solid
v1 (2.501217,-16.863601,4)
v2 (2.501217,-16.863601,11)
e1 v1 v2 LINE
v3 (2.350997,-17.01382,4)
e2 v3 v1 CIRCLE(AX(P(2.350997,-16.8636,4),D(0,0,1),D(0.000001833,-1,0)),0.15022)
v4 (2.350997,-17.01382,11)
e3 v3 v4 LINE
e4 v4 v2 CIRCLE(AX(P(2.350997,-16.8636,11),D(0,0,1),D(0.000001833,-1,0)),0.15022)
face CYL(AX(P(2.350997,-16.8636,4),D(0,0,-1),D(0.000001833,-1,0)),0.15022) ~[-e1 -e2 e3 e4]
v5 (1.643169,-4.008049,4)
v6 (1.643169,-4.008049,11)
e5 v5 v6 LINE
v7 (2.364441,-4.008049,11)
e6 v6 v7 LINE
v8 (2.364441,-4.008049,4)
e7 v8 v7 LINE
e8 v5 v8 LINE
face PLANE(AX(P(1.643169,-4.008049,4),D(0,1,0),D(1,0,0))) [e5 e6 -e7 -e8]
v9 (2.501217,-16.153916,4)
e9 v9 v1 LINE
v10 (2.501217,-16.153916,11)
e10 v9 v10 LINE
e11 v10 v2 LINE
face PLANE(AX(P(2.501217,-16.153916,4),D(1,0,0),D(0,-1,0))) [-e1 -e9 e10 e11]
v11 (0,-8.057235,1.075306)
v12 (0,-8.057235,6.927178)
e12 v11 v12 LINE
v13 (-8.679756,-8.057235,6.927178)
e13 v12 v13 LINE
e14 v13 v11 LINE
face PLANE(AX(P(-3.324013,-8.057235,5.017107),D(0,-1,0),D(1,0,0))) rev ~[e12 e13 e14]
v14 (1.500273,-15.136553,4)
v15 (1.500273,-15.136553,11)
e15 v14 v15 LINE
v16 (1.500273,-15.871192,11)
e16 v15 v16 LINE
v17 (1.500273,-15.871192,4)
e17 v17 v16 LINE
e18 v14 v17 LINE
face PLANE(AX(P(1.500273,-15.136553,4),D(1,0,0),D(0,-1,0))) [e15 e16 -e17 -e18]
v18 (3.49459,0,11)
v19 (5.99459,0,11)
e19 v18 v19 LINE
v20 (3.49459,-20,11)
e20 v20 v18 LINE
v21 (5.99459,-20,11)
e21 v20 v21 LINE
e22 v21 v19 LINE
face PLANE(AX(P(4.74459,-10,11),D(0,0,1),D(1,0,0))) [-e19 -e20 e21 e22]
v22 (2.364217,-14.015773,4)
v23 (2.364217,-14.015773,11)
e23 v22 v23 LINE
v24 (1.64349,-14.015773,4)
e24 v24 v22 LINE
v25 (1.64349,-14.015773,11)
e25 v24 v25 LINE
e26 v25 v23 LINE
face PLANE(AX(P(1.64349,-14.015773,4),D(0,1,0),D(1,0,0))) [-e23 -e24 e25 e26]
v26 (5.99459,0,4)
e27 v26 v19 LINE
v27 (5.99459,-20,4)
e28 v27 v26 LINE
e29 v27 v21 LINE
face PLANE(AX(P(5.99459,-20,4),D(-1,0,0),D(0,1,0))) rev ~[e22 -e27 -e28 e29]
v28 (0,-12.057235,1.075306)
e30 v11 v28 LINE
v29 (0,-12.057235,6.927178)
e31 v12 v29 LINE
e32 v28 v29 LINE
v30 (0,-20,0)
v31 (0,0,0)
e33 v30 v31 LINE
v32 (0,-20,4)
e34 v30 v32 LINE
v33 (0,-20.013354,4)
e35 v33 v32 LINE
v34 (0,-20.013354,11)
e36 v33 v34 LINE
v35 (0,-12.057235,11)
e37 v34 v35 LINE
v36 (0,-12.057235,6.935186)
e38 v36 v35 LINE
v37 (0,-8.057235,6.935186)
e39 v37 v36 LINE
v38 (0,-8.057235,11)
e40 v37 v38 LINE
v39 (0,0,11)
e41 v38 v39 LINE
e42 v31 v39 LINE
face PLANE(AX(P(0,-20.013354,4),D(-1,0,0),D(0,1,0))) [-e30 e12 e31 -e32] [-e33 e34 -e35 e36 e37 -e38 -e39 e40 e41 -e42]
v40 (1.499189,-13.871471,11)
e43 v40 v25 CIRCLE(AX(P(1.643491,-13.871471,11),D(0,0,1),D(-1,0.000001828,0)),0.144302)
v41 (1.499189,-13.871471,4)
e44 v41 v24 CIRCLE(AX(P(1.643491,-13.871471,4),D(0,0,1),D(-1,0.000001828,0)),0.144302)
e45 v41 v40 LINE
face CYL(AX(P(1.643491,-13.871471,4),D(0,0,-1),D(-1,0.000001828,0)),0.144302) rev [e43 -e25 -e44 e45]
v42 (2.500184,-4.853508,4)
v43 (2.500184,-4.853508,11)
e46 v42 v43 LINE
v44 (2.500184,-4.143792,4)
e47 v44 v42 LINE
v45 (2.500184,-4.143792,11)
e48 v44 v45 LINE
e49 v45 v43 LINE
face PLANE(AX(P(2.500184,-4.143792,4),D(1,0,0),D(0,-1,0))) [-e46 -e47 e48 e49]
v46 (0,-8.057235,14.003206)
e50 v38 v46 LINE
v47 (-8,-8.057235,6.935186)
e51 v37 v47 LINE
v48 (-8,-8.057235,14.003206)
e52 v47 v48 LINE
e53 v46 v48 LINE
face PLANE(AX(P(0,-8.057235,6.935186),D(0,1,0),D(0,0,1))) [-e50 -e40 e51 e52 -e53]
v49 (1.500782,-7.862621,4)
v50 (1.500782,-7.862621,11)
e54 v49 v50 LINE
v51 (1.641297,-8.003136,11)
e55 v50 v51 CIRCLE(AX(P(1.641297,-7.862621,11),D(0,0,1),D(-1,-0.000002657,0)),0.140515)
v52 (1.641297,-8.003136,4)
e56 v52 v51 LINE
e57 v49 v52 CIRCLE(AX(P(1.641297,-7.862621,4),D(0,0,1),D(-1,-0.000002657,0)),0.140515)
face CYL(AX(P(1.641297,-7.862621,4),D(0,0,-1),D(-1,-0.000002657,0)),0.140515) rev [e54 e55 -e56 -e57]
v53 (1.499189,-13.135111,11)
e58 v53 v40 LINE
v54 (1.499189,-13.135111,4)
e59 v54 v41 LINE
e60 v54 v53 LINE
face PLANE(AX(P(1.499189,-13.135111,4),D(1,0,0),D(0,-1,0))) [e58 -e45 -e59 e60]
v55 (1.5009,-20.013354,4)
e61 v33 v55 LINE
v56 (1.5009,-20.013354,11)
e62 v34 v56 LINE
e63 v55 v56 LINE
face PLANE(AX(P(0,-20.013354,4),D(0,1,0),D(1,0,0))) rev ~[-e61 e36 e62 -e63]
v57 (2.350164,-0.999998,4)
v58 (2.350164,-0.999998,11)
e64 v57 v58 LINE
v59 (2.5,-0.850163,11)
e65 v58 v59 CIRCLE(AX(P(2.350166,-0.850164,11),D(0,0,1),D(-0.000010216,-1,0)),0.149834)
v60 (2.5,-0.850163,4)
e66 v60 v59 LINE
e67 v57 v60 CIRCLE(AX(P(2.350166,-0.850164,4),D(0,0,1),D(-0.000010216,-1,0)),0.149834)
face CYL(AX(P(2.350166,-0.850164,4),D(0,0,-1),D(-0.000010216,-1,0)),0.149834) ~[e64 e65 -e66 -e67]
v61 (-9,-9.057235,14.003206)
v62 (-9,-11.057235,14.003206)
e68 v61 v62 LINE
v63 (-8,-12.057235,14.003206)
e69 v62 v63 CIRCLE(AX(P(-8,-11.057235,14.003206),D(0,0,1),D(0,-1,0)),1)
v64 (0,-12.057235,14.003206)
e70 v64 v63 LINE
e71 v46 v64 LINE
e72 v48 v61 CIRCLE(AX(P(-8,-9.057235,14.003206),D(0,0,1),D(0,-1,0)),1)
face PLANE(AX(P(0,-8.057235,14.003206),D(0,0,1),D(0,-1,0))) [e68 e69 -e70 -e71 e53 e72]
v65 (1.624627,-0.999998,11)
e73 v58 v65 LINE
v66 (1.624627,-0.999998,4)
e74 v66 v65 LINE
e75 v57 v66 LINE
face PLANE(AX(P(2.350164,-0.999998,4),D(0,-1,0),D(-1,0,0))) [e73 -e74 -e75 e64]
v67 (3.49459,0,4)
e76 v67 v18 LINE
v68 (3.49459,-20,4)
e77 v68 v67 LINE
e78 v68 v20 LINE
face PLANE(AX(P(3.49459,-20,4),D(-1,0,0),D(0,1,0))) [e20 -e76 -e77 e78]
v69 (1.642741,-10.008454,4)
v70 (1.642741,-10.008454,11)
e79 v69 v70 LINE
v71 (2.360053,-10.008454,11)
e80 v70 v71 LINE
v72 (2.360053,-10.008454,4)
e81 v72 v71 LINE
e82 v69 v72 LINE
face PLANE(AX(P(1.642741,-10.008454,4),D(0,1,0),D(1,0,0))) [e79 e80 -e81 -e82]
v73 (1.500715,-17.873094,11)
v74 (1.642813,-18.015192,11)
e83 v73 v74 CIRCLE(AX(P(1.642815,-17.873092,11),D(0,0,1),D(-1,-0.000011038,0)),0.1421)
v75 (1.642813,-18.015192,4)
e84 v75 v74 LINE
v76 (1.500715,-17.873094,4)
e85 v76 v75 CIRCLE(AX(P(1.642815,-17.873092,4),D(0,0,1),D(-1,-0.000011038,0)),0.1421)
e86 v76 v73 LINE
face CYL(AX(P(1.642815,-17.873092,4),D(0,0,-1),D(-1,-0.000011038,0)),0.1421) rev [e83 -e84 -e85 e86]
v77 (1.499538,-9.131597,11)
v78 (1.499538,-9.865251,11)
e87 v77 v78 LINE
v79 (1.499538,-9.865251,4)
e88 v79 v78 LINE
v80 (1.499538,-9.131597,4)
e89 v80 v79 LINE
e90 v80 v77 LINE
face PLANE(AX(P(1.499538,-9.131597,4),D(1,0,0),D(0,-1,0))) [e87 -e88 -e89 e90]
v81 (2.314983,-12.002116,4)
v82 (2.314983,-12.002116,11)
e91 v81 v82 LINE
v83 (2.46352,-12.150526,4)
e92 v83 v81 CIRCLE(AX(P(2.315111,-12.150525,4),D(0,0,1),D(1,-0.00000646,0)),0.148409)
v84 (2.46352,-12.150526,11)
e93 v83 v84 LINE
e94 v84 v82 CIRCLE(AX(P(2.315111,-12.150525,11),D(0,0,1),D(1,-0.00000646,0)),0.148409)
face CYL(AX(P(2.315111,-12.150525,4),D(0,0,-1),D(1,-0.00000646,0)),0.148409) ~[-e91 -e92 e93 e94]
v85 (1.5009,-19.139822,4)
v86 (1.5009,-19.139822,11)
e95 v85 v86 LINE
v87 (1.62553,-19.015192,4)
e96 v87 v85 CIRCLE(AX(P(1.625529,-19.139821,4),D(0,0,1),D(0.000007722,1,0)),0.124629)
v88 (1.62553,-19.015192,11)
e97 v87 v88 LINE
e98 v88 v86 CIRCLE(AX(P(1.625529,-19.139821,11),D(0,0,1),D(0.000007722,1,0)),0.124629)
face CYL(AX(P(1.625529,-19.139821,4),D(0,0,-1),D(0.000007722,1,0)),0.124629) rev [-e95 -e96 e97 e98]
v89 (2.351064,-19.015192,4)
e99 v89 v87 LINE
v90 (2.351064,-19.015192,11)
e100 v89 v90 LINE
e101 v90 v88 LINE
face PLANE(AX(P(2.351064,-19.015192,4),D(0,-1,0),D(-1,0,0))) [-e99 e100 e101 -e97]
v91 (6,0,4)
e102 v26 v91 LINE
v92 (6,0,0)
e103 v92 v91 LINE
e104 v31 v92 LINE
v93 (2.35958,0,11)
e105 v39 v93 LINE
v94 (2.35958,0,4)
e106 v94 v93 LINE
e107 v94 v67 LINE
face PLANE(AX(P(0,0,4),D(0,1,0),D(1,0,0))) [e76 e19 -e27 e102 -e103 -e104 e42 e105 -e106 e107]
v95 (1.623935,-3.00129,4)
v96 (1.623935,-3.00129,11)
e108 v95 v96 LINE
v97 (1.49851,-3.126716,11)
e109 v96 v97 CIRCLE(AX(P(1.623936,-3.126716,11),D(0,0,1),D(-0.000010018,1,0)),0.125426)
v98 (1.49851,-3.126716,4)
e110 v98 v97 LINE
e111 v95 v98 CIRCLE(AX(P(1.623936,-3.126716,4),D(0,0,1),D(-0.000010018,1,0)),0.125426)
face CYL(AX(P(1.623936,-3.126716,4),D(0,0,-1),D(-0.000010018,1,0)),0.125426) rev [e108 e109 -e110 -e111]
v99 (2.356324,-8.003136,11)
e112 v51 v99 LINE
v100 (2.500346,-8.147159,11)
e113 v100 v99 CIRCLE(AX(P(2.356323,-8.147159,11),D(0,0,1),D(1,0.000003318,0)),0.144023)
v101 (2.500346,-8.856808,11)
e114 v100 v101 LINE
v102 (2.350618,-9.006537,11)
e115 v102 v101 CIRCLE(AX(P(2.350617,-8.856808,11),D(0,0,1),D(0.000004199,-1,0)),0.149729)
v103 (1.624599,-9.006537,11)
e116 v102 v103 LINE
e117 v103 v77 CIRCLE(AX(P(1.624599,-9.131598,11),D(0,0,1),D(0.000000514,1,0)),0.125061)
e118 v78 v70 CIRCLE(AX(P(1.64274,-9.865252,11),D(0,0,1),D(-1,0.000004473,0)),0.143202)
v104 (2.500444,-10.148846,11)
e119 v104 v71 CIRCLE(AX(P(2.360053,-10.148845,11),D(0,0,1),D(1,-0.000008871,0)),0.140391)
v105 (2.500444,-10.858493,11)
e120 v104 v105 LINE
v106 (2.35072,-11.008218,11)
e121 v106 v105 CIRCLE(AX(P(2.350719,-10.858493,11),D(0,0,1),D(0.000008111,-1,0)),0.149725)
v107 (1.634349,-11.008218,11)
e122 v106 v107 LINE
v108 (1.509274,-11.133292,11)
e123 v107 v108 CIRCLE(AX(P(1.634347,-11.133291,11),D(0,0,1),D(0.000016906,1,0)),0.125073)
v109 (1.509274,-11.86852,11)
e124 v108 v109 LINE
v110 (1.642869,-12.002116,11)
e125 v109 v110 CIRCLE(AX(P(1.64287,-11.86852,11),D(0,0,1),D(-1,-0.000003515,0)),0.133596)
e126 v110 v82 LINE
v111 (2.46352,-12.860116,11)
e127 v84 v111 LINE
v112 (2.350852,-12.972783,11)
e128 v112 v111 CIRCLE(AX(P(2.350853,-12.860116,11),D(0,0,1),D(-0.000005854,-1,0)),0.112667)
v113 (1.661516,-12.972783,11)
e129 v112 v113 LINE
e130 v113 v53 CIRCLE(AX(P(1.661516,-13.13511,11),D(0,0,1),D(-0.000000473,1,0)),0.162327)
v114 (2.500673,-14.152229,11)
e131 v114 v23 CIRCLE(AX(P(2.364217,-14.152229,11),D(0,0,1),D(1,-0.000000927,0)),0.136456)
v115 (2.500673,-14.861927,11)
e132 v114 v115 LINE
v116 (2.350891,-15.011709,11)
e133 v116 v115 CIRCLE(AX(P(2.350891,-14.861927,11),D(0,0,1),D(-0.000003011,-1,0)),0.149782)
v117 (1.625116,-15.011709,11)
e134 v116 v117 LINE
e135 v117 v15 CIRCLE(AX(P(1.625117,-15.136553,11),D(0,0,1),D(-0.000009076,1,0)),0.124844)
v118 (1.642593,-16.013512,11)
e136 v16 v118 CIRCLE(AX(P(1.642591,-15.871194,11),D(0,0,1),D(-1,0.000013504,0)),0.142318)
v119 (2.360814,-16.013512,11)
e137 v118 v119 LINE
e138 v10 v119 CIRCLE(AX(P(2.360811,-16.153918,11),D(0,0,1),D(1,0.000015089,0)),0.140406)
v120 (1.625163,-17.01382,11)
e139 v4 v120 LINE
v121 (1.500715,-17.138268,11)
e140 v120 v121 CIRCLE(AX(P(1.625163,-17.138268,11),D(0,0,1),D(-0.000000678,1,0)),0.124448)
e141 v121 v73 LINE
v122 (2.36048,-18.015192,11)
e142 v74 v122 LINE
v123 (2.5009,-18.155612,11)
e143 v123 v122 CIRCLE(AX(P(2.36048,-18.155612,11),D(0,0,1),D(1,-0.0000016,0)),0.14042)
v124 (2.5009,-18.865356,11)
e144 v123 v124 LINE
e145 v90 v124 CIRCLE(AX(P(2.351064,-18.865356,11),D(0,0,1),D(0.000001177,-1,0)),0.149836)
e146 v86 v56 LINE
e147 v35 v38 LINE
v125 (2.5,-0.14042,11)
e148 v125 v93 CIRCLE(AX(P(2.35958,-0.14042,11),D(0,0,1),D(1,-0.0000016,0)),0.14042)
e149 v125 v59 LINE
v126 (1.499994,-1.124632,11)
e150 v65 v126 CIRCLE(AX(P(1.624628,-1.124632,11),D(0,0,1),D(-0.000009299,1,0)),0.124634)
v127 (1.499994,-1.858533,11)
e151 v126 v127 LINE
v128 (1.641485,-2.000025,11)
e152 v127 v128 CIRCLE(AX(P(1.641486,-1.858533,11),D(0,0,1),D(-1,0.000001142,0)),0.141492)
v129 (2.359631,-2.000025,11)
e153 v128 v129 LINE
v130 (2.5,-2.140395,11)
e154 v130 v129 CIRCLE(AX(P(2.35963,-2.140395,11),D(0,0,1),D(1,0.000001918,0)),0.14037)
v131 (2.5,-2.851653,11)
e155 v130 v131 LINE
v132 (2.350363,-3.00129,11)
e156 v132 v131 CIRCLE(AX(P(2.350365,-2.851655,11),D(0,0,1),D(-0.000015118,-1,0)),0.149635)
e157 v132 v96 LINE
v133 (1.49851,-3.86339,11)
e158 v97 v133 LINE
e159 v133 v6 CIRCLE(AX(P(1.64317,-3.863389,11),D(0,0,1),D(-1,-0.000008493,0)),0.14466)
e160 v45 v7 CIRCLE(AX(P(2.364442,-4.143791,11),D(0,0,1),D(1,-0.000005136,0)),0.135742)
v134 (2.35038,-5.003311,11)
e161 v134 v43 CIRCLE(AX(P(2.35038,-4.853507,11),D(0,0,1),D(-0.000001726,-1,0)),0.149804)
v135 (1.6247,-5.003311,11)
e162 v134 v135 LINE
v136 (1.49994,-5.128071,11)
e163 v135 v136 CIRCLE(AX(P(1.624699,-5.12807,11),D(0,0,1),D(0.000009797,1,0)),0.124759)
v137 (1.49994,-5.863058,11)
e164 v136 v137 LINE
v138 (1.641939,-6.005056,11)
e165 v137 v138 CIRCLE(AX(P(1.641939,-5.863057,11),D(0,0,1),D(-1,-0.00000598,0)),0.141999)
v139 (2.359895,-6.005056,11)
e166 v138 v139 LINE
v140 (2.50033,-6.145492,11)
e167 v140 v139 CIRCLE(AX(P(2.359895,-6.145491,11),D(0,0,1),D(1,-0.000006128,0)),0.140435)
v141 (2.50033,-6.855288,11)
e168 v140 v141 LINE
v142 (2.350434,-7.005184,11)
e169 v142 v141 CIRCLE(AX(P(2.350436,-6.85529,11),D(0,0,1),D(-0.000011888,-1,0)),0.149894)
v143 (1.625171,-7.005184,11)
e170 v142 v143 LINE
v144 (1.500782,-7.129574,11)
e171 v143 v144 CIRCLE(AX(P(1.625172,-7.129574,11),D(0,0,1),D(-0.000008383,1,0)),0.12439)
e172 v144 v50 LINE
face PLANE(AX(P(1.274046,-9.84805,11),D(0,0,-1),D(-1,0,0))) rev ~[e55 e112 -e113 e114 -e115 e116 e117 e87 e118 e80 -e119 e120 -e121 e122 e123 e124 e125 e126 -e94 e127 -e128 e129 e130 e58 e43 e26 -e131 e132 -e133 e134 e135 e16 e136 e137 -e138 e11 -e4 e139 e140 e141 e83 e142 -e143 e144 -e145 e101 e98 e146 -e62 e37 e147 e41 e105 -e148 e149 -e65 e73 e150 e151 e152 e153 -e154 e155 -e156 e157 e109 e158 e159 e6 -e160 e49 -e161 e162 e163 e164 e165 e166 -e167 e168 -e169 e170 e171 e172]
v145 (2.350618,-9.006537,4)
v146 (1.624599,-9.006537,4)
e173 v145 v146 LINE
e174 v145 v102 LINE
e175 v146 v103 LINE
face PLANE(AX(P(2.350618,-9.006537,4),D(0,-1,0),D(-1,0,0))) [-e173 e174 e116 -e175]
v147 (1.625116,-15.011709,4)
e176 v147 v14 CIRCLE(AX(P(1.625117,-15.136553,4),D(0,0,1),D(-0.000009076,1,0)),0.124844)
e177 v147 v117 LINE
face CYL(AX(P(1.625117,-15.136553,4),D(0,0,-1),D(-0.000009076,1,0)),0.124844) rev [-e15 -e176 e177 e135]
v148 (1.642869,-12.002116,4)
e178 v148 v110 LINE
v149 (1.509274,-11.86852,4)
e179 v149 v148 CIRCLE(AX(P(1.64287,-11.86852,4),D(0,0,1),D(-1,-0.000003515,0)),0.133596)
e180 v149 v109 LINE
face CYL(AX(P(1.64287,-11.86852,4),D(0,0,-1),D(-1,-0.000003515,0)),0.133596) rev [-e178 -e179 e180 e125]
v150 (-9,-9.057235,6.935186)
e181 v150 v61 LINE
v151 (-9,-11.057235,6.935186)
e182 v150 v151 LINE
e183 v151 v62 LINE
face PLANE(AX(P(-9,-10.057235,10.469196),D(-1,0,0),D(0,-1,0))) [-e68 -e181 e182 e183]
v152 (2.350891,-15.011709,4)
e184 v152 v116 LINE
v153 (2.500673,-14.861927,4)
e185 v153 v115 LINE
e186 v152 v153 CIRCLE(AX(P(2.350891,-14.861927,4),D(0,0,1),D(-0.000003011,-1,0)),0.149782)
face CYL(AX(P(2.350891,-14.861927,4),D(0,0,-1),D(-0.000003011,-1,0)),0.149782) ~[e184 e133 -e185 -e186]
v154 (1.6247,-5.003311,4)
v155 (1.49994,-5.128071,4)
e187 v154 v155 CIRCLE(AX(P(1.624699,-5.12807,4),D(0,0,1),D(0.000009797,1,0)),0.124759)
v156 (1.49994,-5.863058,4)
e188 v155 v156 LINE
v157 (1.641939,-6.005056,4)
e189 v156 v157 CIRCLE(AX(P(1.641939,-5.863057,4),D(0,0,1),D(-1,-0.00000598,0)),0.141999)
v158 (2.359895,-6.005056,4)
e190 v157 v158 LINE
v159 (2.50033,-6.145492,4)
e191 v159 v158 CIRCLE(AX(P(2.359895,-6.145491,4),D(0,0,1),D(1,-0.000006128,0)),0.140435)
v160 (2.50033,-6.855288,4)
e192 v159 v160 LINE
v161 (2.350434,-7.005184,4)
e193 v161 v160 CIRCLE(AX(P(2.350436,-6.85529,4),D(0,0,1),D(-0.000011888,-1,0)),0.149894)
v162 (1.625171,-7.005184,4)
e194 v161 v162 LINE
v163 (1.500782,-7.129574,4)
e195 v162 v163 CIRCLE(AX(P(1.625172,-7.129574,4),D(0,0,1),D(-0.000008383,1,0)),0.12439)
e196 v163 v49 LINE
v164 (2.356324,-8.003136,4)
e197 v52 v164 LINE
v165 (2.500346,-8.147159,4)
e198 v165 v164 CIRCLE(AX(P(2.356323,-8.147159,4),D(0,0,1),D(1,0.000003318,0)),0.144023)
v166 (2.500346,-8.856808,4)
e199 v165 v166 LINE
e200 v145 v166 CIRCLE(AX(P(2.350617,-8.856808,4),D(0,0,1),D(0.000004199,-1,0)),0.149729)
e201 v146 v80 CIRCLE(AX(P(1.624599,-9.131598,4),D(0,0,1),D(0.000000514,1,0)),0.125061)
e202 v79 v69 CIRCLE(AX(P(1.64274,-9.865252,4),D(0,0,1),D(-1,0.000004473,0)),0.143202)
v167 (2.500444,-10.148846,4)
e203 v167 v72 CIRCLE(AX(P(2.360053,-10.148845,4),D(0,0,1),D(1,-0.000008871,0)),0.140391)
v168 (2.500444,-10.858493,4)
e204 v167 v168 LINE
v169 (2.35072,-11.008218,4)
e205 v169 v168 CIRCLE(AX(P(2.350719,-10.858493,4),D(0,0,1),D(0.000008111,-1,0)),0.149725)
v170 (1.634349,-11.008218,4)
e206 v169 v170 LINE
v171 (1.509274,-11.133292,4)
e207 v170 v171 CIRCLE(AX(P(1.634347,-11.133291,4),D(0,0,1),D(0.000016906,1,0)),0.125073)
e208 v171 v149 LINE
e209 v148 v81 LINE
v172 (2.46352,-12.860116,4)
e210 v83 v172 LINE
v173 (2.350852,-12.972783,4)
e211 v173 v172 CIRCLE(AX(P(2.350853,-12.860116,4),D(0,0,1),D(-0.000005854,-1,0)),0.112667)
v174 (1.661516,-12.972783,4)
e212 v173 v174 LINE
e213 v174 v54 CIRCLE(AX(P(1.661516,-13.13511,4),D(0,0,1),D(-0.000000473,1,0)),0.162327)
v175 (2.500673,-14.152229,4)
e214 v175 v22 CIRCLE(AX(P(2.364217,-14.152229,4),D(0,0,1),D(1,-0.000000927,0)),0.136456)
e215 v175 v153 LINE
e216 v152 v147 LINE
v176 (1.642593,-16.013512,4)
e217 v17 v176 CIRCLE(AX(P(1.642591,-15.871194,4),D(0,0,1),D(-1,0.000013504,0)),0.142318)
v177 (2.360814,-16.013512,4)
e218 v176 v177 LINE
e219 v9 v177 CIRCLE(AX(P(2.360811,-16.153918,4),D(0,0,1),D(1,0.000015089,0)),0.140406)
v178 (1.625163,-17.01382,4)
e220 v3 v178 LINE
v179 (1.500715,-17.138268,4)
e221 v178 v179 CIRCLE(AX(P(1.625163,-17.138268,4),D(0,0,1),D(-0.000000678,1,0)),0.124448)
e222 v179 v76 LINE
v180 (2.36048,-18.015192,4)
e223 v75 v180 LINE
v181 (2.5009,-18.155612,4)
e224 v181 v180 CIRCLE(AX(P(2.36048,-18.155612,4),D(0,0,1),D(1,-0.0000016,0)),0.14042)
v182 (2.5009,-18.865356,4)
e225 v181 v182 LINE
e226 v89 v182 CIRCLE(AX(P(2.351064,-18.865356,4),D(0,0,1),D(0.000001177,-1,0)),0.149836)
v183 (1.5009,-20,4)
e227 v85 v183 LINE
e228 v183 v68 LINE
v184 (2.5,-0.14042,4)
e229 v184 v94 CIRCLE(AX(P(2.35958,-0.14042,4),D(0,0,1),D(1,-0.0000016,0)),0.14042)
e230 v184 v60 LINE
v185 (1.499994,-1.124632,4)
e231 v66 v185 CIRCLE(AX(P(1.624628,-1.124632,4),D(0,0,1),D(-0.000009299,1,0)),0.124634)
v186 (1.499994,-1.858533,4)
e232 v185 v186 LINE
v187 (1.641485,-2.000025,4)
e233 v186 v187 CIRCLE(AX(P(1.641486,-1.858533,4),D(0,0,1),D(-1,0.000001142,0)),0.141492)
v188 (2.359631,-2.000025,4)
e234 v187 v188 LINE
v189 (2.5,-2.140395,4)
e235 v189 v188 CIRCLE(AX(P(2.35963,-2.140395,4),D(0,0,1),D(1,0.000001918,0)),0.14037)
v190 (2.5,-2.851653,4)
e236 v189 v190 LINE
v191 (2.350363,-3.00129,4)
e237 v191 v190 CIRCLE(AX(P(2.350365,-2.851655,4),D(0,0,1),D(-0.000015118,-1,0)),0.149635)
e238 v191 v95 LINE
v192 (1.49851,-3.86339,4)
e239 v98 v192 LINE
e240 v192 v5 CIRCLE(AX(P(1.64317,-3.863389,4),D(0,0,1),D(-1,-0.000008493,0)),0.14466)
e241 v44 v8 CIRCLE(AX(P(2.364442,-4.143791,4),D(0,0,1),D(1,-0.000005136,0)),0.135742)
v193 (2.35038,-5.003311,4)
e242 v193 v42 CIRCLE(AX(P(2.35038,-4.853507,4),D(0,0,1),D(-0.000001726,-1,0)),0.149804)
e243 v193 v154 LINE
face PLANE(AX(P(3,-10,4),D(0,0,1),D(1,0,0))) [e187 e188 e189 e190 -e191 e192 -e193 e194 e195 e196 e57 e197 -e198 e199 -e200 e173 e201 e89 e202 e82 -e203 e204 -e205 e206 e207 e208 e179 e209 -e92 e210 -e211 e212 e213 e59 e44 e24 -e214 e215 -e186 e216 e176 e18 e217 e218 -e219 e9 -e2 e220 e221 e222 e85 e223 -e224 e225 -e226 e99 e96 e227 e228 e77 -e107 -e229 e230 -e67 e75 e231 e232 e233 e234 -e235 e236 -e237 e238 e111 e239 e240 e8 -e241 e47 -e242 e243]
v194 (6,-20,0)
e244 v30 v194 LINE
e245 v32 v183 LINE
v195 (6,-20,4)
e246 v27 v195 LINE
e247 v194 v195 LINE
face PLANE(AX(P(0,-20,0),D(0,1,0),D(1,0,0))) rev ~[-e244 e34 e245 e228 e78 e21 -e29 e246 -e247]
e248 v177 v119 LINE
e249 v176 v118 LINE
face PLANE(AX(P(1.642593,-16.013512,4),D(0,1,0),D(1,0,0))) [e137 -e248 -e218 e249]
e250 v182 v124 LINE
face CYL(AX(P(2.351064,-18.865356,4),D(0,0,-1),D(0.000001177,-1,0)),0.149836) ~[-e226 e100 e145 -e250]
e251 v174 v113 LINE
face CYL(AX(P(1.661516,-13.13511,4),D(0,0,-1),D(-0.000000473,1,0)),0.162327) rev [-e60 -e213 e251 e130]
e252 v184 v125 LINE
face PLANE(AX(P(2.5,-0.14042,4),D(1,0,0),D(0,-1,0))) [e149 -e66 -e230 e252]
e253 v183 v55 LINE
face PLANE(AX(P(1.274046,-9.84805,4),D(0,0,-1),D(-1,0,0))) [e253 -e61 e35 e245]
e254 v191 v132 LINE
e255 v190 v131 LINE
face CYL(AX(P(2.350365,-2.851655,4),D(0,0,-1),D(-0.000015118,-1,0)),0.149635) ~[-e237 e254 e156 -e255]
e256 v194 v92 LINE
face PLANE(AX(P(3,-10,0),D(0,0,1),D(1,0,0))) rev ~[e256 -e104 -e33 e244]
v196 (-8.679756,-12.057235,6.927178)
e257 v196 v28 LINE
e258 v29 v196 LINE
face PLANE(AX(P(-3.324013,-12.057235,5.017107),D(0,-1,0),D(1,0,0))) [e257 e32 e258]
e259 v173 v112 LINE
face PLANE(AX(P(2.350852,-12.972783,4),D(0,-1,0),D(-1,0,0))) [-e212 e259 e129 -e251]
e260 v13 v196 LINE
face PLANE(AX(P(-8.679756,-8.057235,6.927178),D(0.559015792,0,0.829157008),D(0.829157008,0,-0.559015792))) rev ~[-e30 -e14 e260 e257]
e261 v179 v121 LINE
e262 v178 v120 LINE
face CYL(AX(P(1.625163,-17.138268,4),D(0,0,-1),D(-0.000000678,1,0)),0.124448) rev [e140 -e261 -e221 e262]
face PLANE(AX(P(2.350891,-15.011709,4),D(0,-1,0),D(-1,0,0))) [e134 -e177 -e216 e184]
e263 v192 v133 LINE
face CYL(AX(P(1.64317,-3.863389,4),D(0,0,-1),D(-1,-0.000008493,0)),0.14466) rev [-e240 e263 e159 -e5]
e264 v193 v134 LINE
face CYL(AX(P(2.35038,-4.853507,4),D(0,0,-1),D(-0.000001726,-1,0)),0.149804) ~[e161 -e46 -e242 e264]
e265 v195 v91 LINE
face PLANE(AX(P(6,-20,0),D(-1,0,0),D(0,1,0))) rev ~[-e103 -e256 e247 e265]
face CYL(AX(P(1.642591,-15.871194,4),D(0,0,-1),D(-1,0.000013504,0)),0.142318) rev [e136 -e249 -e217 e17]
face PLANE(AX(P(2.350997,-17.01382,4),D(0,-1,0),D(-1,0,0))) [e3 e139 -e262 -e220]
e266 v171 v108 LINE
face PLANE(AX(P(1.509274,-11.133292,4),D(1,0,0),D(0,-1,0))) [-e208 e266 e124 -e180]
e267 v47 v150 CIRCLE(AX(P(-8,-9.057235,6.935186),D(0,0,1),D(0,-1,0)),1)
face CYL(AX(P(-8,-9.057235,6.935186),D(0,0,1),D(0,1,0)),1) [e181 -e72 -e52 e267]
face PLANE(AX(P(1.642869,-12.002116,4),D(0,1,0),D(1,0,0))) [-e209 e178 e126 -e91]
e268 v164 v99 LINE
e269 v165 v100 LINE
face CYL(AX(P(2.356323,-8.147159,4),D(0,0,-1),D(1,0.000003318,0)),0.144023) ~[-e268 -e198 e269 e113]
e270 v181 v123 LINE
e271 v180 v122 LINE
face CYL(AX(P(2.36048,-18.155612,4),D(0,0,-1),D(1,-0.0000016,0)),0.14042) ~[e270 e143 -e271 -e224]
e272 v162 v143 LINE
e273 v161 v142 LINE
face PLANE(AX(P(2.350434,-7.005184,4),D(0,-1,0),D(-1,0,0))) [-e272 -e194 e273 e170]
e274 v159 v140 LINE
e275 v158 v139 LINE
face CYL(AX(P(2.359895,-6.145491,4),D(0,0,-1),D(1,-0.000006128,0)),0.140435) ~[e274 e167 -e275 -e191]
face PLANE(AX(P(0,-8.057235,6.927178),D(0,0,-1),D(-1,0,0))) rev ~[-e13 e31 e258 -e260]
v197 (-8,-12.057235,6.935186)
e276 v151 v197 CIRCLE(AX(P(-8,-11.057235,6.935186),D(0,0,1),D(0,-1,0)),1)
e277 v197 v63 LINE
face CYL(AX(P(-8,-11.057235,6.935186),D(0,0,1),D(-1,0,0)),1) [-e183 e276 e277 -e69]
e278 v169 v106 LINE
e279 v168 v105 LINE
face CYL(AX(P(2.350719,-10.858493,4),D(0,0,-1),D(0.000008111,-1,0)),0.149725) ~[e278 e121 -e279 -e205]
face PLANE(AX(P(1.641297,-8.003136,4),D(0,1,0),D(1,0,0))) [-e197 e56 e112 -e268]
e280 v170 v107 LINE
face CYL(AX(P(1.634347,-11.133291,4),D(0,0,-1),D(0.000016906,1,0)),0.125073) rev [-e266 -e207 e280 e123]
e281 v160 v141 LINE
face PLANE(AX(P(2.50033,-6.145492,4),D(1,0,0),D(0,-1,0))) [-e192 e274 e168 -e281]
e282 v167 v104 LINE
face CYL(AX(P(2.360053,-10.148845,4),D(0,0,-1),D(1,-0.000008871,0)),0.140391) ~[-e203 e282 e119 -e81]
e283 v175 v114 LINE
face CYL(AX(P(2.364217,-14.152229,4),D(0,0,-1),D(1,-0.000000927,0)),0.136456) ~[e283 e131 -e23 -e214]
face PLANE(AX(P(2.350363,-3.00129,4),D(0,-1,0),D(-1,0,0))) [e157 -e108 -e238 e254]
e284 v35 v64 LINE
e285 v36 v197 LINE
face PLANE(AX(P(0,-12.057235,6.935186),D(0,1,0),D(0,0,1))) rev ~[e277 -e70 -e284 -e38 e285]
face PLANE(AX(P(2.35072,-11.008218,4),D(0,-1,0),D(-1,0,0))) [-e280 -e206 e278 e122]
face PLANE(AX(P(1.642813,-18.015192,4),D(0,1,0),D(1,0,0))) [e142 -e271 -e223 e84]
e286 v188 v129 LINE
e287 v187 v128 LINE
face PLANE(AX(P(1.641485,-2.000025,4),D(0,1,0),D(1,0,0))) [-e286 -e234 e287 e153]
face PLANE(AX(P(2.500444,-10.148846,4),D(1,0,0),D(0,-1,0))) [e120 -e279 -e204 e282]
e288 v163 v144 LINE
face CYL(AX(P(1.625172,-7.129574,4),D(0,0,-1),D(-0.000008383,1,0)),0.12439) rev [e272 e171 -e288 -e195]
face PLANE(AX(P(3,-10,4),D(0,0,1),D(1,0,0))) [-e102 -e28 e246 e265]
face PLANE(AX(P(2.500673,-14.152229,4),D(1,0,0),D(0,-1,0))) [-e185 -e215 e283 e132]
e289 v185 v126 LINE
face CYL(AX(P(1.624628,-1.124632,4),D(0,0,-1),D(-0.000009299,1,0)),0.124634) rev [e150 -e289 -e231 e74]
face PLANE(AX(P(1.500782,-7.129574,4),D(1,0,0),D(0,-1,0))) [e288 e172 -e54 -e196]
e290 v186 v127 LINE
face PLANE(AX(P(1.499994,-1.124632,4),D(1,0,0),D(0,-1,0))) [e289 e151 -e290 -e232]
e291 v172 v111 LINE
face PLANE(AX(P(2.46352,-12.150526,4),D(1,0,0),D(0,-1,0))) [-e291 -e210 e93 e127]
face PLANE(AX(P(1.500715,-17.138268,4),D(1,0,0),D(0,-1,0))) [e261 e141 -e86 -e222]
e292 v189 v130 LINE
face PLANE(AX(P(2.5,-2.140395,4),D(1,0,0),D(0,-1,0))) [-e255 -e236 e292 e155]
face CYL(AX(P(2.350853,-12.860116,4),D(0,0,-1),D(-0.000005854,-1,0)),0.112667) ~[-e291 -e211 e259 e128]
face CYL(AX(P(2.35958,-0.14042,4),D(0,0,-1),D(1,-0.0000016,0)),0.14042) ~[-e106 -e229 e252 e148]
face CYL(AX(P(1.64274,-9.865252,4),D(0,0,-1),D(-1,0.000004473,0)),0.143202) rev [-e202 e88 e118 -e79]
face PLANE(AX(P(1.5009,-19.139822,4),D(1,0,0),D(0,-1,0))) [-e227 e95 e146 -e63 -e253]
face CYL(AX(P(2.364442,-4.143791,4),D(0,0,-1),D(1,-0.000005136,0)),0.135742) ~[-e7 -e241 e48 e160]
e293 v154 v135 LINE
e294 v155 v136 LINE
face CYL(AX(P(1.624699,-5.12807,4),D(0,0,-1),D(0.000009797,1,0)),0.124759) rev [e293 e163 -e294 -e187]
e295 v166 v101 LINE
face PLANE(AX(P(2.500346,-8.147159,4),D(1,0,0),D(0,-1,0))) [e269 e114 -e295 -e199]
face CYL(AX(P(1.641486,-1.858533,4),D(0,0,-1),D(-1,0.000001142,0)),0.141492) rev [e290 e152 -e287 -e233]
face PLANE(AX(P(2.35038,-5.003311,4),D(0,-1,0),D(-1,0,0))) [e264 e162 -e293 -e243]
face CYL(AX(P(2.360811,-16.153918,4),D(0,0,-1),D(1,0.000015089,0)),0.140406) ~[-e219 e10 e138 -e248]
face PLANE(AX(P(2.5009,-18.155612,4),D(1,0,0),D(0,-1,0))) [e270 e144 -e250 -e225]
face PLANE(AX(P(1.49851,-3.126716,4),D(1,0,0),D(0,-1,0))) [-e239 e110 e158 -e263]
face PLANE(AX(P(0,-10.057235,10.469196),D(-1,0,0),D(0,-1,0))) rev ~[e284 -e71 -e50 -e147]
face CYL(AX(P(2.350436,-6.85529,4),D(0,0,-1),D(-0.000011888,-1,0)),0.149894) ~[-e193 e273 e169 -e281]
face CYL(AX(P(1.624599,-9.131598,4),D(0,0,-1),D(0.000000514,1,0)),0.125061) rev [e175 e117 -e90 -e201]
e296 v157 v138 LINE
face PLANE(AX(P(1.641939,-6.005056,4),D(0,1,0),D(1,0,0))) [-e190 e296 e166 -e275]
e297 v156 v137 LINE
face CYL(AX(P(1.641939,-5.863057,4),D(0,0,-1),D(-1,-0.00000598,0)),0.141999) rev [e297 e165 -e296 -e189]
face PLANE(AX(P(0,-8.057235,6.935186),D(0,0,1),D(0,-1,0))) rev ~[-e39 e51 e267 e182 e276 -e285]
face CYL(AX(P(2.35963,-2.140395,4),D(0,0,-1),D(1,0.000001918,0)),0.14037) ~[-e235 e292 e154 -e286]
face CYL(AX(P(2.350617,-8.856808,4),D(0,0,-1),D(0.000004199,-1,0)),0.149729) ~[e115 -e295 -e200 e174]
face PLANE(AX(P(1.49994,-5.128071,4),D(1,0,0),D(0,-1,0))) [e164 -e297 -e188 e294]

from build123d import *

# Parameters (mm, degrees)
SKETCH_W     = 6
SKETCH_H     = 20
PAD_DEPTH    = 4
PAD001_DEPTH = 7
SKETCH002_W  = 2.5
SKETCH002_H  = 20
PAD002_DEPTH = 7
SKETCH003_W  = 4
SKETCH003_H  = 7.068021
PAD003_DEPTH = 9
PAD004_DEPTH = 4
FILLET_R     = 1
FILLET001_R  = 1


with BuildPart() as part:
    # Sketch → Pad (new body)
    with BuildSketch(Plane.XY):
        with Locations((3, -10)):
            Rectangle(SKETCH_W, SKETCH_H)
    extrude(amount=PAD_DEPTH)

    # Sketch001 (on Face6 of Pad) → Pad001 (join)
    with BuildSketch(Plane.XY.offset(4)):
        with BuildLine():
            Line((0, 0), (2.35958, 0))
            ThreePointArc((2.5, -0.14042), (2.458872, -0.041128), (2.35958, 0))
            Line((2.5, -0.14042), (2.5, -0.850163))
            ThreePointArc((2.350164, -0.999998), (2.456114, -0.956113), (2.5, -0.850163))
            Line((2.350164, -0.999998), (1.624627, -0.999998))
            ThreePointArc((1.624627, -0.999998), (1.536498, -1.036503), (1.499994, -1.124632))
            Line((1.499994, -1.124632), (1.499994, -1.858533))
            ThreePointArc((1.499994, -1.858533), (1.541436, -1.958583), (1.641485, -2.000025))
            Line((1.641485, -2.000025), (2.359631, -2.000025))
            ThreePointArc((2.5, -2.140395), (2.458887, -2.041139), (2.359631, -2.000025))
            Line((2.5, -2.140395), (2.5, -2.851653))
            ThreePointArc((2.350363, -3.00129), (2.456173, -2.957463), (2.5, -2.851653))
            Line((2.350363, -3.00129), (1.623935, -3.00129))
            ThreePointArc((1.623935, -3.00129), (1.535246, -3.038027), (1.49851, -3.126716))
            Line((1.49851, -3.126716), (1.49851, -3.86339))
            ThreePointArc((1.49851, -3.86339), (1.54088, -3.965679), (1.643169, -4.008049))
            Line((1.643169, -4.008049), (2.364441, -4.008049))
            ThreePointArc((2.500184, -4.143792), (2.460426, -4.047807), (2.364441, -4.008049))
            Line((2.500184, -4.143792), (2.500184, -4.853508))
            ThreePointArc((2.35038, -5.003311), (2.456307, -4.959435), (2.500184, -4.853508))
            Line((2.35038, -5.003311), (1.6247, -5.003311))
            ThreePointArc((1.6247, -5.003311), (1.536481, -5.039852), (1.49994, -5.128071))
            Line((1.49994, -5.128071), (1.49994, -5.863058))
            ThreePointArc((1.49994, -5.863058), (1.541531, -5.963466), (1.641939, -6.005056))
            Line((1.641939, -6.005056), (2.359895, -6.005056))
            ThreePointArc((2.50033, -6.145492), (2.459198, -6.046189), (2.359895, -6.005056))
            Line((2.50033, -6.145492), (2.50033, -6.855288))
            ThreePointArc((2.350434, -7.005184), (2.456427, -6.961281), (2.50033, -6.855288))
            Line((2.350434, -7.005184), (1.625171, -7.005184))
            ThreePointArc((1.625171, -7.005184), (1.537215, -7.041617), (1.500782, -7.129574))
            Line((1.500782, -7.129574), (1.500782, -7.862621))
            ThreePointArc((1.500782, -7.862621), (1.541938, -7.96198), (1.641297, -8.003136))
            Line((1.641297, -8.003136), (2.356324, -8.003136))
            ThreePointArc((2.500346, -8.147159), (2.458163, -8.04532), (2.356324, -8.003136))
            Line((2.500346, -8.147159), (2.500346, -8.856808))
            ThreePointArc((2.350618, -9.006537), (2.456492, -8.962682), (2.500346, -8.856808))
            Line((2.350618, -9.006537), (1.624599, -9.006537))
            ThreePointArc((1.624599, -9.006537), (1.536168, -9.043166), (1.499538, -9.131597))
            Line((1.499538, -9.131597), (1.499538, -9.865251))
            ThreePointArc((1.499538, -9.865251), (1.541481, -9.966511), (1.642741, -10.008454))
            Line((1.642741, -10.008454), (2.360053, -10.008454))
            ThreePointArc((2.500444, -10.148846), (2.459325, -10.049574), (2.360053, -10.008454))
            Line((2.500444, -10.148846), (2.500444, -10.858493))
            ThreePointArc((2.35072, -11.008218), (2.456591, -10.964364), (2.500444, -10.858493))
            Line((2.35072, -11.008218), (1.634349, -11.008218))
            ThreePointArc((1.634349, -11.008218), (1.545907, -11.044851), (1.509274, -11.133292))
            Line((1.509274, -11.133292), (1.509274, -11.86852))
            ThreePointArc((1.509274, -11.86852), (1.548403, -11.962986), (1.642869, -12.002116))
            Line((1.642869, -12.002116), (2.314983, -12.002116))
            ThreePointArc((2.46352, -12.150526), (2.420007, -12.045539), (2.314983, -12.002116))
            Line((2.46352, -12.150526), (2.46352, -12.860116))
            ThreePointArc((2.350852, -12.972783), (2.43052, -12.939784), (2.46352, -12.860116))
            Line((2.350852, -12.972783), (1.661516, -12.972783))
            ThreePointArc((1.661516, -12.972783), (1.546733, -13.020328), (1.499189, -13.135111))
            Line((1.499189, -13.135111), (1.499189, -13.871471))
            ThreePointArc((1.499189, -13.871471), (1.541454, -13.973508), (1.64349, -14.015773))
            Line((1.64349, -14.015773), (2.364217, -14.015773))
            ThreePointArc((2.500673, -14.152229), (2.460706, -14.05574), (2.364217, -14.015773))
            Line((2.500673, -14.152229), (2.500673, -14.861927))
            ThreePointArc((2.350891, -15.011709), (2.456803, -14.967839), (2.500673, -14.861927))
            Line((2.350891, -15.011709), (1.625116, -15.011709))
            ThreePointArc((1.625116, -15.011709), (1.536839, -15.048275), (1.500273, -15.136553))
            Line((1.500273, -15.136553), (1.500273, -15.871192))
            ThreePointArc((1.500273, -15.871192), (1.541957, -15.971828), (1.642593, -16.013512))
            Line((1.642593, -16.013512), (2.360814, -16.013512))
            ThreePointArc((2.501217, -16.153916), (2.460093, -16.054636), (2.360814, -16.013512))
            Line((2.501217, -16.153916), (2.501217, -16.863601))
            ThreePointArc((2.350997, -17.01382), (2.457218, -16.969822), (2.501217, -16.863601))
            Line((2.350997, -17.01382), (1.625163, -17.01382))
            ThreePointArc((1.625163, -17.01382), (1.537165, -17.05027), (1.500715, -17.138268))
            Line((1.500715, -17.138268), (1.500715, -17.873094))
            ThreePointArc((1.500715, -17.873094), (1.542335, -17.973572), (1.642813, -18.015192))
            Line((1.642813, -18.015192), (2.36048, -18.015192))
            ThreePointArc((2.5009, -18.155612), (2.459772, -18.05632), (2.36048, -18.015192))
            Line((2.5009, -18.155612), (2.5009, -18.865356))
            ThreePointArc((2.351064, -19.015192), (2.457014, -18.971306), (2.5009, -18.865356))
            Line((2.351064, -19.015192), (1.62553, -19.015192))
            ThreePointArc((1.62553, -19.015192), (1.537403, -19.051695), (1.5009, -19.139822))
            Line((1.5009, -19.139822), (1.5009, -20.013354))
            Line((0, -20.013354), (1.5009, -20.013354))
            Line((0, -20.013354), (0, 0))
        make_face()
    extrude(amount=PAD001_DEPTH)

    # Sketch002 (on Face6 of Pad001) → Pad002 (join)
    with BuildSketch(Plane.XY.offset(4)):
        with Locations((4.74459, -10)):
            Rectangle(SKETCH002_W, SKETCH002_H)
    extrude(amount=PAD002_DEPTH)

    # Sketch003 (on Face10 of Pad002) → Pad003 (join)
    with BuildSketch(Plane(origin=(0, 0, 0), x_dir=(0, -1, 0), z_dir=(-1, 0, 0))):
        with Locations((10.057235, 10.469196)):
            Rectangle(SKETCH003_W, SKETCH003_H)
    extrude(amount=PAD003_DEPTH)

    # Sketch004 (on Face95 of Pad003) → Pad004 (join)
    with BuildSketch(Plane(origin=(0, -8.057235, 0), x_dir=(-1, 0, 0), z_dir=(0, 1, 0))):
        Polygon((8.679756, 6.927178), (0, 1.075306), (0, 6.927178), align=None)
    extrude(amount=-PAD004_DEPTH)

    # Fillet
    fillet_edges = [part.edges().sort_by_distance(p)[0] for p in [
        (-9, -8.057235, 10.469196),
    ]]
    fillet(fillet_edges, radius=FILLET_R)

    # Fillet001
    fillet001_edges = [part.edges().sort_by_distance(p)[0] for p in [
        (-9, -12.057235, 10.469196),
    ]]
    fillet(fillet001_edges, radius=FILLET001_R)


solid = part.part
